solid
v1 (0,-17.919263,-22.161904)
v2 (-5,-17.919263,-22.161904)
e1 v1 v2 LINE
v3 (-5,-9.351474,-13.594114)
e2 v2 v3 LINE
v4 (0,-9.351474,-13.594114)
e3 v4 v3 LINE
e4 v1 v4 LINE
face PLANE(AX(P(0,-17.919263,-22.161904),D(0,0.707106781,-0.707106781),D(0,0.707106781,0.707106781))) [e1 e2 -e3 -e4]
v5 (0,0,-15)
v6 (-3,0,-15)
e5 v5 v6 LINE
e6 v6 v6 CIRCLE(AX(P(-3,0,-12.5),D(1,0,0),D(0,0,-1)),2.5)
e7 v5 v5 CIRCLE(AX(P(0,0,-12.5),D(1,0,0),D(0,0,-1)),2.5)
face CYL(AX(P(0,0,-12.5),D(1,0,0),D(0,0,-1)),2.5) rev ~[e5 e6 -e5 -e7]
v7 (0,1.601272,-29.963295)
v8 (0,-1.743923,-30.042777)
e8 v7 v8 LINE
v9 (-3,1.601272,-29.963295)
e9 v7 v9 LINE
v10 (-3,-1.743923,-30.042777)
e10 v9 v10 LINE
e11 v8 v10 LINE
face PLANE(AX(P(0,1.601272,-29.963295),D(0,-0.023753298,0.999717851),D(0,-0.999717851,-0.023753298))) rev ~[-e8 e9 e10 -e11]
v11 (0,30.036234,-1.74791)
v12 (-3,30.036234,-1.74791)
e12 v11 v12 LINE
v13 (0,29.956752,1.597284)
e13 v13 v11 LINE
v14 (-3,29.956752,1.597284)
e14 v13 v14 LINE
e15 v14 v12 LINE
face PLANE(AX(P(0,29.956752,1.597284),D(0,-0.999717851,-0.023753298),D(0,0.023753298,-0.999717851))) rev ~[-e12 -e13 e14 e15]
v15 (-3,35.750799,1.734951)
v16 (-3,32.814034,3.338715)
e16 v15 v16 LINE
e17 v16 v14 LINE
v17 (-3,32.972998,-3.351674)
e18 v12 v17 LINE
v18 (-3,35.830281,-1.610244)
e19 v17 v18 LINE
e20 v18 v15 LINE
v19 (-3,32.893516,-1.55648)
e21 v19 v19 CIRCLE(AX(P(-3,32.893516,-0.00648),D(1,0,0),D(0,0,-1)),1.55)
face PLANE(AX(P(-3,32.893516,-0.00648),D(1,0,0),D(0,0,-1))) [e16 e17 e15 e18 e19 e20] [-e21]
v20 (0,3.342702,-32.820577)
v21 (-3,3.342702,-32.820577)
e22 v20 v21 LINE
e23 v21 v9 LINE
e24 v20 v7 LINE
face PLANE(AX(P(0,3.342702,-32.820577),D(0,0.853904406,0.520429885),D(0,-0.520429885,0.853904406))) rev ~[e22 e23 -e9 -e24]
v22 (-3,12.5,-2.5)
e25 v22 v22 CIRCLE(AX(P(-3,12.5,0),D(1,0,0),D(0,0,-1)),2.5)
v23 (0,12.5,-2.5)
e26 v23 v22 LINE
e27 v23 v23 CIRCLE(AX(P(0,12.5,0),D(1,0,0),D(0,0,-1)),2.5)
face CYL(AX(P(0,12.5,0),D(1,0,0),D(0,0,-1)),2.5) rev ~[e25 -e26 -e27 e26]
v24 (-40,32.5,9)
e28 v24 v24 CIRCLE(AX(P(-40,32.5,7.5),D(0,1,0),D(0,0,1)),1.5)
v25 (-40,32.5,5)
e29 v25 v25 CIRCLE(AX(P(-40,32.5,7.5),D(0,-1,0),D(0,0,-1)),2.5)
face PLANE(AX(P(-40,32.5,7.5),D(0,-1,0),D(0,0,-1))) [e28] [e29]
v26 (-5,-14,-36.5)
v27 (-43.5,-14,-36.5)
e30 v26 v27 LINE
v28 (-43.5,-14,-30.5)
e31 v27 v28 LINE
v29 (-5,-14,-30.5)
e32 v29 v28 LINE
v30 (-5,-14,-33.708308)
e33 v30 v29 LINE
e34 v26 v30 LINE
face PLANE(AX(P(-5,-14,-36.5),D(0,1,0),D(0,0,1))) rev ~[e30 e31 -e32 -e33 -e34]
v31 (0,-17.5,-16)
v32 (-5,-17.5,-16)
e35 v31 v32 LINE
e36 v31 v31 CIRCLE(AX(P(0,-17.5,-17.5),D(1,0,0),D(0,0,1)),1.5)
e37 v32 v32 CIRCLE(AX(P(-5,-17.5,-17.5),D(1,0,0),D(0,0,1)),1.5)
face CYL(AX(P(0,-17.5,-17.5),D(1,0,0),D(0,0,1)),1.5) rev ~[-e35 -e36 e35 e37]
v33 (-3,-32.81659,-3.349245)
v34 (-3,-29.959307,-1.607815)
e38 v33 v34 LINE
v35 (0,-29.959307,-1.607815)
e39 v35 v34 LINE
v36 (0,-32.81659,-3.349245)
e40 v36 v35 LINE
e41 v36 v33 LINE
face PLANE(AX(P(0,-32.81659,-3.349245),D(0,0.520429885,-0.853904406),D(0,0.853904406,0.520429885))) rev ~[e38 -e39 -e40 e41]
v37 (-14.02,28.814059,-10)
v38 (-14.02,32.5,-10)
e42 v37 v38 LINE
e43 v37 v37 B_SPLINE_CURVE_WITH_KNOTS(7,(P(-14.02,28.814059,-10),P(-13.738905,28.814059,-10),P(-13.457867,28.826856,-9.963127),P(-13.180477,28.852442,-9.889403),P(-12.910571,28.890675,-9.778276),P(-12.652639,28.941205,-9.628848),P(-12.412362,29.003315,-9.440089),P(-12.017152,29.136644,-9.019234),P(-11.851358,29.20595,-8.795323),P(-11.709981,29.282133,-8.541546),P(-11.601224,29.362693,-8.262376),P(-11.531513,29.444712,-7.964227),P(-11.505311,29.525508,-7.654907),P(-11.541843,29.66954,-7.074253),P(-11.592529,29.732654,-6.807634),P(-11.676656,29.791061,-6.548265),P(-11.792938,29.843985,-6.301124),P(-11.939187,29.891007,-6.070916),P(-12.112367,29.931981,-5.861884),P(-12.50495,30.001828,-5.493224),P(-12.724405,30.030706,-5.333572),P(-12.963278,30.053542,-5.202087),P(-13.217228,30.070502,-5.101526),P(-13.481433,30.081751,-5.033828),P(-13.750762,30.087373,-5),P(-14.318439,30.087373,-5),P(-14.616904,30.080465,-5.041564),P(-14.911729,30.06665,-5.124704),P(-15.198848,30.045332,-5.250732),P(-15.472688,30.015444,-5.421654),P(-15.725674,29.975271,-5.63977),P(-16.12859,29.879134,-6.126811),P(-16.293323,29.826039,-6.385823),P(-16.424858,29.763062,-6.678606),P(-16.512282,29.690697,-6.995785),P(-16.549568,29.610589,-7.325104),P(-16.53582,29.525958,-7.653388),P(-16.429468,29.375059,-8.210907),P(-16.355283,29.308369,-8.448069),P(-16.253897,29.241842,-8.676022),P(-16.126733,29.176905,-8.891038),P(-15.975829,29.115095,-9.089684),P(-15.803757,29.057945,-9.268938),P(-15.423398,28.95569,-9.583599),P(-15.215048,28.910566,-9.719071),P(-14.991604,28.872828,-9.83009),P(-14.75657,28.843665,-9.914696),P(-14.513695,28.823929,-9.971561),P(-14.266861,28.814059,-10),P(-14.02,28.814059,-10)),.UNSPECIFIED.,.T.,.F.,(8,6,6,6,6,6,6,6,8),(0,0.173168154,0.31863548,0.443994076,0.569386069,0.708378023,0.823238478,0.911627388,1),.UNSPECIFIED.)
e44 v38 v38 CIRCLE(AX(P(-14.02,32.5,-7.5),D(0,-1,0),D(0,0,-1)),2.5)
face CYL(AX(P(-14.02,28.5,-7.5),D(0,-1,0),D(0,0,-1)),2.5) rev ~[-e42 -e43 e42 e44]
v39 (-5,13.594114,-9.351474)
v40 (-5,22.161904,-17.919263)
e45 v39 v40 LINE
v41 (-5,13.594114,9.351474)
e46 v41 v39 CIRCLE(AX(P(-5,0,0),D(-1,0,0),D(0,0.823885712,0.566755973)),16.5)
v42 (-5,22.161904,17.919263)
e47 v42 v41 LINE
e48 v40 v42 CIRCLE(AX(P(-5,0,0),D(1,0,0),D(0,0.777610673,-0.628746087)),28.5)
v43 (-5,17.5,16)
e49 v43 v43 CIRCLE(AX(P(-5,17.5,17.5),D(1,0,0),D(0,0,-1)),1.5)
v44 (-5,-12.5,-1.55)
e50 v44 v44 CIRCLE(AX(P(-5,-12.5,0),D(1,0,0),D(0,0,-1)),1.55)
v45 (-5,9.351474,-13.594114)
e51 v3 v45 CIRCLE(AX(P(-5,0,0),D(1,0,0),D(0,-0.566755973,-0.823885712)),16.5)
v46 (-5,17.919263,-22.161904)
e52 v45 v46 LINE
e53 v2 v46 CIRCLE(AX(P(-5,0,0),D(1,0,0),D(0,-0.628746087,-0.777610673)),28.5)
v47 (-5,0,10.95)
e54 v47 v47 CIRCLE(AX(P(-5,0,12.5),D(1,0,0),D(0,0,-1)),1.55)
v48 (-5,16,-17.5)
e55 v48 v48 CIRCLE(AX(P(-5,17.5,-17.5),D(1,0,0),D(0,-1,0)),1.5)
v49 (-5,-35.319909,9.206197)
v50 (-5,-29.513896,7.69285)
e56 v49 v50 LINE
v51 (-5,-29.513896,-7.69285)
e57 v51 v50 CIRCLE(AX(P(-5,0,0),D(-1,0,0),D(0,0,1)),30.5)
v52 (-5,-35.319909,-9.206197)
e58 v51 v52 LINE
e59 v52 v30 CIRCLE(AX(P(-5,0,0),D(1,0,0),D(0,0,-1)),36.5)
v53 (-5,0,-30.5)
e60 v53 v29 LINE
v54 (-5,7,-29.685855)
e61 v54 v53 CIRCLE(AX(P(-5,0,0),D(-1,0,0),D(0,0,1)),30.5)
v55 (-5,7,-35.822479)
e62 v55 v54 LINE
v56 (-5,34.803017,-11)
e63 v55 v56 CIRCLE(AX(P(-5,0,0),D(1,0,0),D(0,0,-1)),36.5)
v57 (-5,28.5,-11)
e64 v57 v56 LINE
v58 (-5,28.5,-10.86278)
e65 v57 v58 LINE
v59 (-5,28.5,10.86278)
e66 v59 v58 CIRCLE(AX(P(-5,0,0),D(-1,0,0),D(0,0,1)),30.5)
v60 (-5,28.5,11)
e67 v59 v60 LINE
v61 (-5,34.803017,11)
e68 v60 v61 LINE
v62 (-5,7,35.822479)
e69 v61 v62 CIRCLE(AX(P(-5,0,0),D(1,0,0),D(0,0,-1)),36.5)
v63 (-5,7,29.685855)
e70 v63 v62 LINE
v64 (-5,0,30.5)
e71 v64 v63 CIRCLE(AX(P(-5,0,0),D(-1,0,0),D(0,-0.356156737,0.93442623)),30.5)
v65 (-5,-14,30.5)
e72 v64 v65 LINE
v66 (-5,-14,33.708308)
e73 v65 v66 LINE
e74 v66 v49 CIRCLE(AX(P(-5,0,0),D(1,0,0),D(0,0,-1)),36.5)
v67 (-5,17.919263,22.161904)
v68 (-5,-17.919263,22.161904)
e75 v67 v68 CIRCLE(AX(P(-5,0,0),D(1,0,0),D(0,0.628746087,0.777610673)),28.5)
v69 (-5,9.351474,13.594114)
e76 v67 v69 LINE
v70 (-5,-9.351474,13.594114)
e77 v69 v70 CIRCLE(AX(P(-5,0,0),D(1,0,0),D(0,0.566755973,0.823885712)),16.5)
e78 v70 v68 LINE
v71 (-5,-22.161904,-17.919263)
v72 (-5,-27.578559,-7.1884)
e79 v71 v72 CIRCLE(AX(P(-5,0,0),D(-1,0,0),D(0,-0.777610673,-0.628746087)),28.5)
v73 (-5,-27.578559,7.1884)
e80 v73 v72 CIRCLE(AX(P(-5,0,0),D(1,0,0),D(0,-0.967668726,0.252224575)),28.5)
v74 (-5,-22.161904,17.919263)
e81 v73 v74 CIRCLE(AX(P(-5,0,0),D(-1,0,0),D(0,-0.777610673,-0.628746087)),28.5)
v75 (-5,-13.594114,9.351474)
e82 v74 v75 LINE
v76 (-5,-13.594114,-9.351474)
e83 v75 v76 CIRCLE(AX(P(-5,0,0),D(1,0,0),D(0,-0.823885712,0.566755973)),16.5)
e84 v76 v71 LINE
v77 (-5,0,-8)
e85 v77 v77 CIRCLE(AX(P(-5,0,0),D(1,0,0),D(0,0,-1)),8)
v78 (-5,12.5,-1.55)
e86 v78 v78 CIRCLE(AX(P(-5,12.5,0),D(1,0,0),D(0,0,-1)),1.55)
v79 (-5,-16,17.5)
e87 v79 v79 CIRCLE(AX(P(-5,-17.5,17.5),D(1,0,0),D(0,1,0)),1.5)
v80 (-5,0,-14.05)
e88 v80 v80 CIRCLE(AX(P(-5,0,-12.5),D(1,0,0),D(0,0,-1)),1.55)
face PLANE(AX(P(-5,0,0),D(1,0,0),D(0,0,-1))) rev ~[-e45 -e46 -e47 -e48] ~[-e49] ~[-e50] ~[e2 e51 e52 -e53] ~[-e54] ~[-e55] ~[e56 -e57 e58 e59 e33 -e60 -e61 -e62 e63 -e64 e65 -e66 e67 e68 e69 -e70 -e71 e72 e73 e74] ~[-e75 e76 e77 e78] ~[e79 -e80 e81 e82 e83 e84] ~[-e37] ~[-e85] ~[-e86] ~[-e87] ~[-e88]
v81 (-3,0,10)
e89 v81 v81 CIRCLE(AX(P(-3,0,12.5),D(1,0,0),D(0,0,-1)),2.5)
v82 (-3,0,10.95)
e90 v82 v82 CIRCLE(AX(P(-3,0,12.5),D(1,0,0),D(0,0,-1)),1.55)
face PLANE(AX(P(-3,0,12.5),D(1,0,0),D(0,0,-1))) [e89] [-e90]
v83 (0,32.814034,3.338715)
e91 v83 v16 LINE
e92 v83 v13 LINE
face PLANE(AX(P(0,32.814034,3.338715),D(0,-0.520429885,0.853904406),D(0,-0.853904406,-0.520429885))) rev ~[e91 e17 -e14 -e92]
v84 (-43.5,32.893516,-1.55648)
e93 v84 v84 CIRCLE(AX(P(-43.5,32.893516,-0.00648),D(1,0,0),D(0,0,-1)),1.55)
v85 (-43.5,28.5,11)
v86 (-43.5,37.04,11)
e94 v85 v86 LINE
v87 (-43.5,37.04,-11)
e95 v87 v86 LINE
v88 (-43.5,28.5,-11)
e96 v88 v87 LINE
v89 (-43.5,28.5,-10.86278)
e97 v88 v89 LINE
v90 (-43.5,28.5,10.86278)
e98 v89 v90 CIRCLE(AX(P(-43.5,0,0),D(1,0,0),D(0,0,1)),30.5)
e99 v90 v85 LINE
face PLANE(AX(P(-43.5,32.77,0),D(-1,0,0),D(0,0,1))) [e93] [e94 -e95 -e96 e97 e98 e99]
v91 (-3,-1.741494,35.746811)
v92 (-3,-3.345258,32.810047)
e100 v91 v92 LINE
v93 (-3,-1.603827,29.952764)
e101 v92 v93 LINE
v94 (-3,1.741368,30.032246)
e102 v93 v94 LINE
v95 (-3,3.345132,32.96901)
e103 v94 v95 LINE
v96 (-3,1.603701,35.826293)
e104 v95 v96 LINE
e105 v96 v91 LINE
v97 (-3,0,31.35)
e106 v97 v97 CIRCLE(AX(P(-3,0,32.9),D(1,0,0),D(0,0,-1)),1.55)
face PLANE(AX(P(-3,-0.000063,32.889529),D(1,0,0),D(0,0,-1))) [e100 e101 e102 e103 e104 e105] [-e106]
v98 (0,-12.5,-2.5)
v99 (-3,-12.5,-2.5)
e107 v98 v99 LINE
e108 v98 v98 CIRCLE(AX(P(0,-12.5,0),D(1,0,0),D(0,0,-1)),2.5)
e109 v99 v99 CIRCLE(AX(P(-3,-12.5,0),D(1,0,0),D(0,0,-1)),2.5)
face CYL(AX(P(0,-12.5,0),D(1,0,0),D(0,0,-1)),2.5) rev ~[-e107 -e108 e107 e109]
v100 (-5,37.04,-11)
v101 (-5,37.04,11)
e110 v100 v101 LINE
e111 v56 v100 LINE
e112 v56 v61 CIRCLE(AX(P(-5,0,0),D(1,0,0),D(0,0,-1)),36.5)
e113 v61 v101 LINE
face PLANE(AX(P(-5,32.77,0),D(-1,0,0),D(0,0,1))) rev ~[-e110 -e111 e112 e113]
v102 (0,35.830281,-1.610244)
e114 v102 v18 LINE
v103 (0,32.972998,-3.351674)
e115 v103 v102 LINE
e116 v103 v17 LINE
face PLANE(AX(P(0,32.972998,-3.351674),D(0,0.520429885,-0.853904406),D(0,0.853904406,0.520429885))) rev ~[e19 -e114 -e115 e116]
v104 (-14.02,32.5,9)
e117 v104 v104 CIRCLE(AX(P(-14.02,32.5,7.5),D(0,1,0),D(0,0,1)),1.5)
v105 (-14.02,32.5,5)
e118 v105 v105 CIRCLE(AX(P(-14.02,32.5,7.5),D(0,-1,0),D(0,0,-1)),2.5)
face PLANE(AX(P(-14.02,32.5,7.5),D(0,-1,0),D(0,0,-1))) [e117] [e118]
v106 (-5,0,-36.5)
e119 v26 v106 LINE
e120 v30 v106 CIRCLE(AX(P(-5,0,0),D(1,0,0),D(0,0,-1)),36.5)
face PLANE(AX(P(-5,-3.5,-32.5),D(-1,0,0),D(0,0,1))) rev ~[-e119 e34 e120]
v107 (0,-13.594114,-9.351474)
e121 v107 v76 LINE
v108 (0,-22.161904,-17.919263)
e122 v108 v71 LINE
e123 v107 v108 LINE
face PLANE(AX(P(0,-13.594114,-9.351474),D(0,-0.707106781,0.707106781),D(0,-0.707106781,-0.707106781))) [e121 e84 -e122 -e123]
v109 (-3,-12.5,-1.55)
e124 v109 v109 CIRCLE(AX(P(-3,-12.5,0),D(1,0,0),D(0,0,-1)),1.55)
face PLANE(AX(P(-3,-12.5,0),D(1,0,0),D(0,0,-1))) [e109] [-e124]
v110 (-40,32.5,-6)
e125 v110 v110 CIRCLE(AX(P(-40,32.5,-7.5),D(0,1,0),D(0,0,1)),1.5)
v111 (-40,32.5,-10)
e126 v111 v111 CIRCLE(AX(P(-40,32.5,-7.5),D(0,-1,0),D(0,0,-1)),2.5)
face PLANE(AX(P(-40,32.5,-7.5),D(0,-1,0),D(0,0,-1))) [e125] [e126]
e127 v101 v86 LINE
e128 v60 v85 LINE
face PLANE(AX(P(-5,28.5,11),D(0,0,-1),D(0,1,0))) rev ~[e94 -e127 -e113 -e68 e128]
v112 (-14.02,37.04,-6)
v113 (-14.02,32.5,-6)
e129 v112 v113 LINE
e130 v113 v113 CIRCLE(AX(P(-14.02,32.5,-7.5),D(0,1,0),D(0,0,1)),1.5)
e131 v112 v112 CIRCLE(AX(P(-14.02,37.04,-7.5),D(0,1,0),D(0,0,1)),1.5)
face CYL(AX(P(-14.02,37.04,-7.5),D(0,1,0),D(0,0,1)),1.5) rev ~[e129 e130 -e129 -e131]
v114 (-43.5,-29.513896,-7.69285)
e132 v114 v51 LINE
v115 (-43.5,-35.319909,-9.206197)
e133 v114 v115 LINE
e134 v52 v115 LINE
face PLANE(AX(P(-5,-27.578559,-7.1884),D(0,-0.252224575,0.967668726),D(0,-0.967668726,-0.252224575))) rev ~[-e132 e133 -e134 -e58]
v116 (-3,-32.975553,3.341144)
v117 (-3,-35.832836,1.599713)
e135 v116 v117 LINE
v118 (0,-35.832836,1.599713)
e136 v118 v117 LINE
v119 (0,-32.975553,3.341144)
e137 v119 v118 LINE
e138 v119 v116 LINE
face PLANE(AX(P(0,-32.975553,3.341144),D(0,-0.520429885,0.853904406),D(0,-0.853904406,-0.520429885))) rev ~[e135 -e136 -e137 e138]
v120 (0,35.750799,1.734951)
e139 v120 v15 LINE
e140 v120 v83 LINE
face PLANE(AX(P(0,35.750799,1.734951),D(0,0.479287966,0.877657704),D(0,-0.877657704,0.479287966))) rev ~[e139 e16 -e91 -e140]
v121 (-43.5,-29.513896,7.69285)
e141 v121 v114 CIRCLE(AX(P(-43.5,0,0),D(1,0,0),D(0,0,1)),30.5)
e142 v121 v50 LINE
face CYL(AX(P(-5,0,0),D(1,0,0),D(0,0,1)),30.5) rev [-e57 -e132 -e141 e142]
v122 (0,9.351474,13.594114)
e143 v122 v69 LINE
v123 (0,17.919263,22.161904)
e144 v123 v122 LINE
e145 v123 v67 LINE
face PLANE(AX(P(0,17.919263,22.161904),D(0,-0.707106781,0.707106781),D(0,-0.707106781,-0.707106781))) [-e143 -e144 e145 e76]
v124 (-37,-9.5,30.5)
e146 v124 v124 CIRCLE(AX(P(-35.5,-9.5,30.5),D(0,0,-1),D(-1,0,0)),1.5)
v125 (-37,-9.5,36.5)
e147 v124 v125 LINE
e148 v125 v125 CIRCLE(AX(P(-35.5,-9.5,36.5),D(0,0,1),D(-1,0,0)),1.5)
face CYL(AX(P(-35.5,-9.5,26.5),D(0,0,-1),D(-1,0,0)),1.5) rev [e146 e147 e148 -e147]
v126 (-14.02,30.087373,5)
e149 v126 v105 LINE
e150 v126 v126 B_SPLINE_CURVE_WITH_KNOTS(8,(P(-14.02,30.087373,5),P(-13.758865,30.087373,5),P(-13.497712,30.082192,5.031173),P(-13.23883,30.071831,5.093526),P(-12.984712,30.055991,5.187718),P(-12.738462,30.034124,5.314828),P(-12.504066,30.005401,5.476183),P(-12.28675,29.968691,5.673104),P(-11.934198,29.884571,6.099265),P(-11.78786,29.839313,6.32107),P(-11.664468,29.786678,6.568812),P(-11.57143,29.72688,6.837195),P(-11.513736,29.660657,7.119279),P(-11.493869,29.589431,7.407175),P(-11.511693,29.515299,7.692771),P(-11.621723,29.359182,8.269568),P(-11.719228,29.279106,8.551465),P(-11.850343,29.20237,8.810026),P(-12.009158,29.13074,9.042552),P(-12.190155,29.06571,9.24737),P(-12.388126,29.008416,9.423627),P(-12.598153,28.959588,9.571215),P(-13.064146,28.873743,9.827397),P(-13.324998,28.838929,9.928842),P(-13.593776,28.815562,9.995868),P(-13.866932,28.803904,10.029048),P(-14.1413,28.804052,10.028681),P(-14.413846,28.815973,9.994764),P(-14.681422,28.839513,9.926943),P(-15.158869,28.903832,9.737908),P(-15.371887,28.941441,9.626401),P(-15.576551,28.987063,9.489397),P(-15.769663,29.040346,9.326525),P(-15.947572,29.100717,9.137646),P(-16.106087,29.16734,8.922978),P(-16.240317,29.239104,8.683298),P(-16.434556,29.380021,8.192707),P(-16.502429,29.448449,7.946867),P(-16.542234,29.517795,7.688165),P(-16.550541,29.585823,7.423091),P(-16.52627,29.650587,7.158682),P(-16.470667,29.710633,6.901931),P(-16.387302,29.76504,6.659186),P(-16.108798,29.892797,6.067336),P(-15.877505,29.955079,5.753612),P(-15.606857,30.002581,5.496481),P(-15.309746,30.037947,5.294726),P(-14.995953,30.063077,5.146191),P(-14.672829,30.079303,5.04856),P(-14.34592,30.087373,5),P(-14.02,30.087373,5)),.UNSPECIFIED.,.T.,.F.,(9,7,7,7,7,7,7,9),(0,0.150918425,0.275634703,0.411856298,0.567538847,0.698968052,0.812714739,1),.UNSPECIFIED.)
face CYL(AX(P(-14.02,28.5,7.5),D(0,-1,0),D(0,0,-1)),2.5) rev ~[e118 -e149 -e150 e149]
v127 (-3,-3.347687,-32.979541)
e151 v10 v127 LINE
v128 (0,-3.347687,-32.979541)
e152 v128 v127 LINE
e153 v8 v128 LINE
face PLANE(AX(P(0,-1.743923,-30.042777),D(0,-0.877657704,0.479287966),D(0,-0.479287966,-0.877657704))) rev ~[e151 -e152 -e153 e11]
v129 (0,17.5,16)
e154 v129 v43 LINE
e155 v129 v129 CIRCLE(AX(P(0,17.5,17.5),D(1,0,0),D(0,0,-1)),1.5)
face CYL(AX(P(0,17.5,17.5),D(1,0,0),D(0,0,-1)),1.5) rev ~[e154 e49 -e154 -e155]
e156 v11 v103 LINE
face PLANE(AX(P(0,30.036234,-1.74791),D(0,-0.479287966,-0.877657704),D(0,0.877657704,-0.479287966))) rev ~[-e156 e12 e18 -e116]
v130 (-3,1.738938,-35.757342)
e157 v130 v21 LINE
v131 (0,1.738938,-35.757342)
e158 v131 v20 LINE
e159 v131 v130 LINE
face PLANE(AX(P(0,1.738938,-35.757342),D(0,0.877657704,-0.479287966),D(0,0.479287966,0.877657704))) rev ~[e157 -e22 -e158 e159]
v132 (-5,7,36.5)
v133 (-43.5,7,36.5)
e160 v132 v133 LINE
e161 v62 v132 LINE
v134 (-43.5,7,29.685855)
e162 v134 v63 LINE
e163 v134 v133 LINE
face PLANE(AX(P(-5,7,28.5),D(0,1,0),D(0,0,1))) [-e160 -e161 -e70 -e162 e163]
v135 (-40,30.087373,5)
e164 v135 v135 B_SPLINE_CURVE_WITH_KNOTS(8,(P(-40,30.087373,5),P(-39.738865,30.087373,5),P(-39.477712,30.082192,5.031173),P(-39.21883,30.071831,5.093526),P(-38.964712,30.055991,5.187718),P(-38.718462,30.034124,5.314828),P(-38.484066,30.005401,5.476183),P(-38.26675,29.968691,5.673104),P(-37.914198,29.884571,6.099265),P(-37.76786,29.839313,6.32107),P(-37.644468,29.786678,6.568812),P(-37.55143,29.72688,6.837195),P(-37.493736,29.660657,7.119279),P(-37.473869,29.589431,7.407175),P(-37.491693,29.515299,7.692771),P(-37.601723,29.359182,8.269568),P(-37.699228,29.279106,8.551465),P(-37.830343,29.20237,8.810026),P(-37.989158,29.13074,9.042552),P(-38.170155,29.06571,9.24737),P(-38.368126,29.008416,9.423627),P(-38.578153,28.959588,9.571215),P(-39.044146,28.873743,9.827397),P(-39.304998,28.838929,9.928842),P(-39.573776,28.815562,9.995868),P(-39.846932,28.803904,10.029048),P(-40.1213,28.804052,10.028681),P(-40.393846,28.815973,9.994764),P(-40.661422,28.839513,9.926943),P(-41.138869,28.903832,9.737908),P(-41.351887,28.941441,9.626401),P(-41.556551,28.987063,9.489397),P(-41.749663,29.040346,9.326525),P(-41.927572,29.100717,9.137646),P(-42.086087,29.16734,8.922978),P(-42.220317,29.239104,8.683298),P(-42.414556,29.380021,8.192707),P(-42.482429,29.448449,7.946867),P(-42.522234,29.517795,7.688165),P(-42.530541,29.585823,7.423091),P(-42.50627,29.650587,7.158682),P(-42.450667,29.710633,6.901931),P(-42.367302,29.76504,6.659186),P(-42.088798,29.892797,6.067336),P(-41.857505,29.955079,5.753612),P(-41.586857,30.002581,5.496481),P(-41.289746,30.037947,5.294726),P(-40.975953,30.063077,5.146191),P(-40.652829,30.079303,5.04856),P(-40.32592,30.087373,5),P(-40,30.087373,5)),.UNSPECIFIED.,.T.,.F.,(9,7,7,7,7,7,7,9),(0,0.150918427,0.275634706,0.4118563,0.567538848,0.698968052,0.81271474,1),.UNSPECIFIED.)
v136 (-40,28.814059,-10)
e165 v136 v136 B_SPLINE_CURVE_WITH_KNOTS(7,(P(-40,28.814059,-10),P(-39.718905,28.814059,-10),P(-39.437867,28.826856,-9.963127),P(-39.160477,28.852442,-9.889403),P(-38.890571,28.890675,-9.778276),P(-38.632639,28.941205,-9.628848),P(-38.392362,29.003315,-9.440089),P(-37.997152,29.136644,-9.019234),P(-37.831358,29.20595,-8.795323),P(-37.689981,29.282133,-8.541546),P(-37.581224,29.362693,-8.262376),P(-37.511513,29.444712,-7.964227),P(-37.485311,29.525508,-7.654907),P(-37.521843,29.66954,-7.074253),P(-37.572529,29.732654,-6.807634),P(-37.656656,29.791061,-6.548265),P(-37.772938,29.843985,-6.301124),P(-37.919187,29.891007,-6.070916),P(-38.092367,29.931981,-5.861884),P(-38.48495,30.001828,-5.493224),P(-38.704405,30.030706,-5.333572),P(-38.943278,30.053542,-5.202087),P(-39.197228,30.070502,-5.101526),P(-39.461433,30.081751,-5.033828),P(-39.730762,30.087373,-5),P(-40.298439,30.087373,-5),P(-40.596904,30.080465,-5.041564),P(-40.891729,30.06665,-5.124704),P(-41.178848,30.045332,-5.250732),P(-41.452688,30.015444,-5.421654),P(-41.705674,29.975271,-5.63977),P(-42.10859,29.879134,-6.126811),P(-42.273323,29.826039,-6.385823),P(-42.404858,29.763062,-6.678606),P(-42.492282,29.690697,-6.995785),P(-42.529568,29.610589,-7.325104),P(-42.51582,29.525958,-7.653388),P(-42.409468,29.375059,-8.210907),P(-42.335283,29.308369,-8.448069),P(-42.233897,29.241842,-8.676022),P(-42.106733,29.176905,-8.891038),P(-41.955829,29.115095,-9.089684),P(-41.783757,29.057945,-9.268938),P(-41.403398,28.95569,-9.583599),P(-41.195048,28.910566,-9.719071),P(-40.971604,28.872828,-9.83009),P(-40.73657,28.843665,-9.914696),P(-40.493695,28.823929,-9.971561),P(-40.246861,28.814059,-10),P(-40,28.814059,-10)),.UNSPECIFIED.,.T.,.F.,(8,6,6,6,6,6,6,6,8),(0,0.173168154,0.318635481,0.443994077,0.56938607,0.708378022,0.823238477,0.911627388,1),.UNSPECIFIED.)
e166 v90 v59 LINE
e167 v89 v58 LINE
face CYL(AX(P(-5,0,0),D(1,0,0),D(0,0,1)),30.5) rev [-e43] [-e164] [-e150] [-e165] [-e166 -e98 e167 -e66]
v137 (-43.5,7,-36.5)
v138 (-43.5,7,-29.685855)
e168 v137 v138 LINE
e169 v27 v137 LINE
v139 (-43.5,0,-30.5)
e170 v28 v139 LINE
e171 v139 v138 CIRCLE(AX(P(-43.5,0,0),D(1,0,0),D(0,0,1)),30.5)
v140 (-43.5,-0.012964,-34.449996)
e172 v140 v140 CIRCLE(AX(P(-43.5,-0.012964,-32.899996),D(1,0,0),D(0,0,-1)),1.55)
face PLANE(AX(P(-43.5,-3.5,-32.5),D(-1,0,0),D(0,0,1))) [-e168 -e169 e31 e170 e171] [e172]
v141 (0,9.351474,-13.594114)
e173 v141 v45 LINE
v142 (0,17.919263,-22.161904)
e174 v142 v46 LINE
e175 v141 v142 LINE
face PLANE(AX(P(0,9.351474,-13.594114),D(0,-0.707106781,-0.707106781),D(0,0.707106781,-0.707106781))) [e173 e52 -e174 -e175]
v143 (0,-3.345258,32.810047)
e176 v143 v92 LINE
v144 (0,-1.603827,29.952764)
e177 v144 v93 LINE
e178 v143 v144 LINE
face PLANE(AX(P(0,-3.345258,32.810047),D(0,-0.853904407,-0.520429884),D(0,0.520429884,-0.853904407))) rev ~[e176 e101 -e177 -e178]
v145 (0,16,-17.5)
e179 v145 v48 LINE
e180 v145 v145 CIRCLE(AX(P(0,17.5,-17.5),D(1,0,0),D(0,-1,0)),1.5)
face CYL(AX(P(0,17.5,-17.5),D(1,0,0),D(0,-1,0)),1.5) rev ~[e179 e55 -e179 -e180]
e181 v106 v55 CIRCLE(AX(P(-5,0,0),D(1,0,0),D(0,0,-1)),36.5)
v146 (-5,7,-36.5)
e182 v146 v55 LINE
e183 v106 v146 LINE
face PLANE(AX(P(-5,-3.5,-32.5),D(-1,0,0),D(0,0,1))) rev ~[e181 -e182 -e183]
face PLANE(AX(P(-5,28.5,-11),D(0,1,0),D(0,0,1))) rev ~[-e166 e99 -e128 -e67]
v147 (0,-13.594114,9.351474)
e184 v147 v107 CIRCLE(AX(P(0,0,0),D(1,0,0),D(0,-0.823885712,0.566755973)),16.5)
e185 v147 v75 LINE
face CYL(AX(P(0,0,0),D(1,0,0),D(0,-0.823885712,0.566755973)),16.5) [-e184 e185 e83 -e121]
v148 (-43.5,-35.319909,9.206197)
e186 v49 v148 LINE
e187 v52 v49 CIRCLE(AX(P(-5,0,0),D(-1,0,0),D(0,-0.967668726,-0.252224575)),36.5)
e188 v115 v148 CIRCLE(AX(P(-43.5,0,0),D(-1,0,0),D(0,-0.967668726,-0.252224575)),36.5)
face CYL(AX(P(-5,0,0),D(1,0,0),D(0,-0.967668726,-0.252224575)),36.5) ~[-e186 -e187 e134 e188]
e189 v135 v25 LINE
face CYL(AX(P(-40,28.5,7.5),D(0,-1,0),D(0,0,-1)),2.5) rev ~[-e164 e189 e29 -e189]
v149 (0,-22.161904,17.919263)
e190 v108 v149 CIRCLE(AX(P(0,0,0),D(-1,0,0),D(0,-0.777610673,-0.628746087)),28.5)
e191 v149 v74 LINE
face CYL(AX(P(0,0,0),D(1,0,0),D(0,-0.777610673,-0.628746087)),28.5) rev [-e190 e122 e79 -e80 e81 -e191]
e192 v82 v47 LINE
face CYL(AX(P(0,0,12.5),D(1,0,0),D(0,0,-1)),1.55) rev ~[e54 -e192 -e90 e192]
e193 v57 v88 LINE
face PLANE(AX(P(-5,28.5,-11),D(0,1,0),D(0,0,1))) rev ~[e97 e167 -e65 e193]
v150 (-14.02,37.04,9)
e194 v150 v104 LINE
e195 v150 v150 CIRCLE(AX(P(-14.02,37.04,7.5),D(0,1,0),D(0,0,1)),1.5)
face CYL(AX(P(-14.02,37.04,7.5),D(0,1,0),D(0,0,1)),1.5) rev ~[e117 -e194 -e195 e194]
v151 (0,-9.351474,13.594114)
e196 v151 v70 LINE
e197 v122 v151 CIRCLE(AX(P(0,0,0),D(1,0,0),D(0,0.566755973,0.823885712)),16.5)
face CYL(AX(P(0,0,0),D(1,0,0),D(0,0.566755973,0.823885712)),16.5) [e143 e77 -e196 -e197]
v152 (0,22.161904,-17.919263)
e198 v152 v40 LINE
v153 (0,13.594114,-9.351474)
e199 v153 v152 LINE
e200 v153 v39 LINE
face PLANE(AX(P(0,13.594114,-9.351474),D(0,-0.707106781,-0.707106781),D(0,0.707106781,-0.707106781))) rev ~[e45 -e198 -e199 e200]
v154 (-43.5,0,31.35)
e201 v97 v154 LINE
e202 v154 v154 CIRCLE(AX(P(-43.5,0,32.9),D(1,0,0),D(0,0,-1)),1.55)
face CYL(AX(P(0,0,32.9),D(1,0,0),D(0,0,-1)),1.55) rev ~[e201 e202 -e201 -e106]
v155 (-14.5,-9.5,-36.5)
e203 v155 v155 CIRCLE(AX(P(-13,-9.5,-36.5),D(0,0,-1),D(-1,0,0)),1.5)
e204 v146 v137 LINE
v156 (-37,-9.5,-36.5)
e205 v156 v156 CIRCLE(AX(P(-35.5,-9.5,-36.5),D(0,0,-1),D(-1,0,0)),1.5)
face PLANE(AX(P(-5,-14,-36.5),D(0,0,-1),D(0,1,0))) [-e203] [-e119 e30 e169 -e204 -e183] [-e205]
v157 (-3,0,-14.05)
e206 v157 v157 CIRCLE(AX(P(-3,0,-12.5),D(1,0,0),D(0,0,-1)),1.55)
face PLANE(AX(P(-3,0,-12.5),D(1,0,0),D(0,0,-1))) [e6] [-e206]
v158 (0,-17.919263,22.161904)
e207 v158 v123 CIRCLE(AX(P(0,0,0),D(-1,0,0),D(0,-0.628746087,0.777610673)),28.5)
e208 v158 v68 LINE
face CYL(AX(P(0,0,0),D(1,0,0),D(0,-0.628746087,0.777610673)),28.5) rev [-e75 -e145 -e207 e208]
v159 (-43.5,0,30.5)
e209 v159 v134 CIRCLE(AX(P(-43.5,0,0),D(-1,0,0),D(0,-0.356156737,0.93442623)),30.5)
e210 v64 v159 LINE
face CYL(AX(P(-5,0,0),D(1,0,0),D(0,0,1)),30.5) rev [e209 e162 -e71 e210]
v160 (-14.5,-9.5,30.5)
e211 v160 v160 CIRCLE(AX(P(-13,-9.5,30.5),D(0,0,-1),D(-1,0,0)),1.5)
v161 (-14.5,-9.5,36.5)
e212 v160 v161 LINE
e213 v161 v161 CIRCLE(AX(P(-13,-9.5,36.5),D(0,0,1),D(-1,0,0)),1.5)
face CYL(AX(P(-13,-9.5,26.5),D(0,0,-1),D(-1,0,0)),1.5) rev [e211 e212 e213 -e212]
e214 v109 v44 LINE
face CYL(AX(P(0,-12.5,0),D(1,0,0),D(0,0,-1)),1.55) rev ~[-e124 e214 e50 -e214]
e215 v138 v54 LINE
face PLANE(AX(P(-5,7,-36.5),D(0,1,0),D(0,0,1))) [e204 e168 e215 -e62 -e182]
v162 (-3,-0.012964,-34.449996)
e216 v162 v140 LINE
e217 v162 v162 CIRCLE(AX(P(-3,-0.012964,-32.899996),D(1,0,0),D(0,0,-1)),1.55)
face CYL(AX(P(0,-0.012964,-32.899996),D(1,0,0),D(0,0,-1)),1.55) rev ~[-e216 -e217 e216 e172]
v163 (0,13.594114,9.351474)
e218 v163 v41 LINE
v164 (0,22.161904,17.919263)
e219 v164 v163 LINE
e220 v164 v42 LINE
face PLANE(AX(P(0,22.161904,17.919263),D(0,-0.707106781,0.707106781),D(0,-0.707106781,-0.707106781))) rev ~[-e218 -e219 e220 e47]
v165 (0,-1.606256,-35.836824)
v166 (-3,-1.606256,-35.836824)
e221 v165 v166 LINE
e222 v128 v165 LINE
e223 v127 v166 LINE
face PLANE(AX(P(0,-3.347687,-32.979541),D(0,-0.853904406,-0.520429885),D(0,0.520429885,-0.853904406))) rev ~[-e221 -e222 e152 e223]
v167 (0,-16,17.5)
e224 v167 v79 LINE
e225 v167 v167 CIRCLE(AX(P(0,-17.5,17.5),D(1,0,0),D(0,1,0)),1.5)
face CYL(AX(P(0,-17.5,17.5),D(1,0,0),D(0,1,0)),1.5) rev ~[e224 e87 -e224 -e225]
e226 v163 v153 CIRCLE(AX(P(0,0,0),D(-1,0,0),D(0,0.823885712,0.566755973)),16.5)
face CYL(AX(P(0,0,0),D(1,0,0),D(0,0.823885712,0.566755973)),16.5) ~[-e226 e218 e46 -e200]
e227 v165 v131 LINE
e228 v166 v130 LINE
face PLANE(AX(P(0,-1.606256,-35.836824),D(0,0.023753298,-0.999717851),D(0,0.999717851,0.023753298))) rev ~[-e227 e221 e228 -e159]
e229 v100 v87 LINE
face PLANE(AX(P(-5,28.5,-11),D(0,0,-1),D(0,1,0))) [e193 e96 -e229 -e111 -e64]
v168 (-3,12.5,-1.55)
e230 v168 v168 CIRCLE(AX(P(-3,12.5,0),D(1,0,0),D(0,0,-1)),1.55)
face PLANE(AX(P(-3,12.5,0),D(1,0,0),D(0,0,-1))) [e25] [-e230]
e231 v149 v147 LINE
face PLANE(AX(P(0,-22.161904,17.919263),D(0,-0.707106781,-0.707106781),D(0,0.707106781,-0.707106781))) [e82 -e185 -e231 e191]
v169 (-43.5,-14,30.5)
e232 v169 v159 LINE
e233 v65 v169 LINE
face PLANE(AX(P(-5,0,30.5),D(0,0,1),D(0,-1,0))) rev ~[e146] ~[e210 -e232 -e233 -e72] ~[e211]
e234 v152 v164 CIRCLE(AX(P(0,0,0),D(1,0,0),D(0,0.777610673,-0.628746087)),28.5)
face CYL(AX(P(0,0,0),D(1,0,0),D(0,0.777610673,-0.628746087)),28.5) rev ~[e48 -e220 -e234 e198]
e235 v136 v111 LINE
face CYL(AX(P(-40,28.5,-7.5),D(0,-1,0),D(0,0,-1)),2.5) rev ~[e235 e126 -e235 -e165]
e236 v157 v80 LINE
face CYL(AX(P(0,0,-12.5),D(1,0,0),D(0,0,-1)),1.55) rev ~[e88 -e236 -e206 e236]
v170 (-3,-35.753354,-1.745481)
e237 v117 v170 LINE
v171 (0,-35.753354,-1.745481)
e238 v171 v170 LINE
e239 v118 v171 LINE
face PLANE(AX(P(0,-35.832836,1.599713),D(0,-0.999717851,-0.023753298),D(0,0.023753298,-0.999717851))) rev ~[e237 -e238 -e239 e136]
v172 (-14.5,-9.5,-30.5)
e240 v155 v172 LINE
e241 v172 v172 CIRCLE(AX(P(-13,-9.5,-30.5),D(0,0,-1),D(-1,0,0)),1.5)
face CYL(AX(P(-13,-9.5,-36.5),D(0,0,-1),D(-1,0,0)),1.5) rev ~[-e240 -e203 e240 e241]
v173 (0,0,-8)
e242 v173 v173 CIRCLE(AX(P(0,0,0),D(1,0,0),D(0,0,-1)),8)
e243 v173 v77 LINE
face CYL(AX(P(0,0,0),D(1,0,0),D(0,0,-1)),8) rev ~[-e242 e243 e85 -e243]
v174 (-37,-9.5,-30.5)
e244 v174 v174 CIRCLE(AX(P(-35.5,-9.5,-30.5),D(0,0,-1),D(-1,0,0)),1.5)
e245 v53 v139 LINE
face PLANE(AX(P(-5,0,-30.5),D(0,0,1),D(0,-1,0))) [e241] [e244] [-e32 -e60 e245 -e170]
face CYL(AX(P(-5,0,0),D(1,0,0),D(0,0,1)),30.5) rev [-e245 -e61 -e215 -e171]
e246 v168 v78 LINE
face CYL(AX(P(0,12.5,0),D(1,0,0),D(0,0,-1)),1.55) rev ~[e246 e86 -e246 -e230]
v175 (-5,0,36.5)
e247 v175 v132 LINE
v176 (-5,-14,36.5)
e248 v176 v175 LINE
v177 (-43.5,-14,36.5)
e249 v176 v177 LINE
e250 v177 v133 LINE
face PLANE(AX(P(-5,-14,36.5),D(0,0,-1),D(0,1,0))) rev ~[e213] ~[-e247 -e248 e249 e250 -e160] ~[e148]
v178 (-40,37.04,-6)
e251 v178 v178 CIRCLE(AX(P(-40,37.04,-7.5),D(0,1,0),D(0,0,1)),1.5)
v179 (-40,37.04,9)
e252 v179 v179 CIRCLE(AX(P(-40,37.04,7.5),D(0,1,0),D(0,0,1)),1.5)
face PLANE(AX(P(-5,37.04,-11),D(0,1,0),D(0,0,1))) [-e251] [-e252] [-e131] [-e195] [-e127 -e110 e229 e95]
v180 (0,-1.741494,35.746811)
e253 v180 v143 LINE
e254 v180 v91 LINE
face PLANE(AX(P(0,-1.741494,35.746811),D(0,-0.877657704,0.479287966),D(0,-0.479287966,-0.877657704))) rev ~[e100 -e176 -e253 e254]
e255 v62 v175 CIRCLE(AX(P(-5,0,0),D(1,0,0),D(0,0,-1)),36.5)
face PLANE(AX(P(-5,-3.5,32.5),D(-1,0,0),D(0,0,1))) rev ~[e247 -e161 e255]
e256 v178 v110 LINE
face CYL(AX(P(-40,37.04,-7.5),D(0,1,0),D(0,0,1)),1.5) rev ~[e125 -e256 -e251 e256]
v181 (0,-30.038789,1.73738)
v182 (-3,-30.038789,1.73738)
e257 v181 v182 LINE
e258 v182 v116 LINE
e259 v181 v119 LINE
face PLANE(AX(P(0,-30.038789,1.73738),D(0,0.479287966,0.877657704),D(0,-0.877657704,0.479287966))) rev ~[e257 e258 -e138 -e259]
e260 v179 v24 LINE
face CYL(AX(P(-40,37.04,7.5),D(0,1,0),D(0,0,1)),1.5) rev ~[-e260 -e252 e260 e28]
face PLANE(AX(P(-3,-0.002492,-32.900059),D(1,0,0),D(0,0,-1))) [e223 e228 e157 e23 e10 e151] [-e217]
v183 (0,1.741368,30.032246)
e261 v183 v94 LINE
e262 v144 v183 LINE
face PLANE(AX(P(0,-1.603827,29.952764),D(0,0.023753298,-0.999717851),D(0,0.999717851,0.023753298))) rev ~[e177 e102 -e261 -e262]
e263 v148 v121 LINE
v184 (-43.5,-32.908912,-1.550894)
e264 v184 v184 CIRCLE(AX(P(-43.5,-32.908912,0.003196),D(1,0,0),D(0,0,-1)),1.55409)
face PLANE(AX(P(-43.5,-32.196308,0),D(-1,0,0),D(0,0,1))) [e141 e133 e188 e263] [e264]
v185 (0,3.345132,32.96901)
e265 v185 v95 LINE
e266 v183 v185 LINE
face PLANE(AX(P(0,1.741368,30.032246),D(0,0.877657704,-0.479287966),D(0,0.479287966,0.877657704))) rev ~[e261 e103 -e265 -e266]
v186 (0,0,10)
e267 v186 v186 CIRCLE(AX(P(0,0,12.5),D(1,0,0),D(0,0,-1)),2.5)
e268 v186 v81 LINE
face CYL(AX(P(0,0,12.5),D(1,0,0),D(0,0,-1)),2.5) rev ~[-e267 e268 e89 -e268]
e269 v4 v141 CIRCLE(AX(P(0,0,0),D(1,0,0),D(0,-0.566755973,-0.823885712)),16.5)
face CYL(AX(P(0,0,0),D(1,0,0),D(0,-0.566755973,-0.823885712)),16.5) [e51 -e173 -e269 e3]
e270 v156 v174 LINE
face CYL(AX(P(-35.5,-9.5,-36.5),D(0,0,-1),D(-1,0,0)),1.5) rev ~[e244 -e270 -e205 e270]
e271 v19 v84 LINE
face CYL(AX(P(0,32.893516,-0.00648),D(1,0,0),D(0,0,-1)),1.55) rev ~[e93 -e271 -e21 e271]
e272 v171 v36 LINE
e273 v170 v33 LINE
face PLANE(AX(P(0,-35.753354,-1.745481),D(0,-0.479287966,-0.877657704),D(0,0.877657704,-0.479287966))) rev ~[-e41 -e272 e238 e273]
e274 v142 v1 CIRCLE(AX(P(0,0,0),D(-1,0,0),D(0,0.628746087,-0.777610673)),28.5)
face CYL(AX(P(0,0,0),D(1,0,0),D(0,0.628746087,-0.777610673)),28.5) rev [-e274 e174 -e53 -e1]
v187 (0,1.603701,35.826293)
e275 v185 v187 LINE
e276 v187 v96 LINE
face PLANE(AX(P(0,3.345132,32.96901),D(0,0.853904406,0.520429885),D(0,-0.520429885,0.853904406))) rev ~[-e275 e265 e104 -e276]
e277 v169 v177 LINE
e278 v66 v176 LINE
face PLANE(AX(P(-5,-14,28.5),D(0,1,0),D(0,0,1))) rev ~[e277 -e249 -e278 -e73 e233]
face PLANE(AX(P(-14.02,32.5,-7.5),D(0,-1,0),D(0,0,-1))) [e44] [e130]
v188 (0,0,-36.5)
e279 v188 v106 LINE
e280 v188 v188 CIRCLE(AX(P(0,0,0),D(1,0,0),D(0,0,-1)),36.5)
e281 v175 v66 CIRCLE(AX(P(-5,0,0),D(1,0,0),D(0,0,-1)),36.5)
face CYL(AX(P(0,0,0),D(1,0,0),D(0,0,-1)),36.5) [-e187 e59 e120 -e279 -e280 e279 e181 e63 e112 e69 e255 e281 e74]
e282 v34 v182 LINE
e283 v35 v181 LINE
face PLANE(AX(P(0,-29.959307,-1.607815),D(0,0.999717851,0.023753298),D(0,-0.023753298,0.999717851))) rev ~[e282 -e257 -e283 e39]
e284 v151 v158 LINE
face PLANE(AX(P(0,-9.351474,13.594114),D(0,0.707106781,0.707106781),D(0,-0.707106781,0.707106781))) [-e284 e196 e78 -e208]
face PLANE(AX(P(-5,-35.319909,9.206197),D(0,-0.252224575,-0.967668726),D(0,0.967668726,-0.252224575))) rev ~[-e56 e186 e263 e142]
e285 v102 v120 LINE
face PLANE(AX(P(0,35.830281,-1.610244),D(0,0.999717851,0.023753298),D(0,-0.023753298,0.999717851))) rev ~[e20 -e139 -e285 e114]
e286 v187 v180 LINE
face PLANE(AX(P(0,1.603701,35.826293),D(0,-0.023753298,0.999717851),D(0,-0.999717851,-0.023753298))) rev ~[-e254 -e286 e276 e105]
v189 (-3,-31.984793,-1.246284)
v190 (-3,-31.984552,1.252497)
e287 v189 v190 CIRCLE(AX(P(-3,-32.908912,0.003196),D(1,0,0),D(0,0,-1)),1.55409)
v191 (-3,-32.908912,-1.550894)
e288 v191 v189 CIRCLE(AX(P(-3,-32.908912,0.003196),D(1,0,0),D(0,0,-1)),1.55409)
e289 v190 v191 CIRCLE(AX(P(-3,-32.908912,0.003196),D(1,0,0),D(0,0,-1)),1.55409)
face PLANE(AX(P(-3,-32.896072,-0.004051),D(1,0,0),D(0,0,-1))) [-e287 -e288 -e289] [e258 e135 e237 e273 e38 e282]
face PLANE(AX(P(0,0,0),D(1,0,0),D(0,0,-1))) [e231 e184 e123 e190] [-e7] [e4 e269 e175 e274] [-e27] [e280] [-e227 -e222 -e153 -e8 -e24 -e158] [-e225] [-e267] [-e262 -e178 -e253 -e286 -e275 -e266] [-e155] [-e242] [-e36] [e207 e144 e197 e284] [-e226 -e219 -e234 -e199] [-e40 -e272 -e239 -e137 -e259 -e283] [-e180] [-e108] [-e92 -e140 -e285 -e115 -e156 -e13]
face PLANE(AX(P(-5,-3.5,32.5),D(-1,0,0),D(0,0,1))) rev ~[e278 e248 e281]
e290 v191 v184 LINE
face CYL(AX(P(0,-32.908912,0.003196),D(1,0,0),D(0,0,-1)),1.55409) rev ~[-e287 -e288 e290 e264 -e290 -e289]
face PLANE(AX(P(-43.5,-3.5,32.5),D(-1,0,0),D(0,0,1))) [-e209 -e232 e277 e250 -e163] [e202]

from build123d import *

# Parameters (mm, degrees)
SKETCH_1_R               = 36.5
SKETCH_1_R_2             = 1.55
SKETCH_1_R_3             = 8
EXTRUDE_1_DEPTH          = 5
CUT_EXTRUDE_2_REACH      = 53.86
SKETCH_5_R               = 1.55
CUT_EXTRUDE_3_REACH      = 53.86
SKETCH_7_R               = 1.55
CUT_EXTRUDE_4_DEPTH      = 3
SKETCH_10_R              = 1.5
CUT_EXTRUDE_5_DEPTH      = 5
PATTERN_CIRCULAR_1_COUNT = 4
SKETCH_11_W              = 22
SKETCH_11_H              = 8.54
EXTRUDE_4_DEPTH          = 38.5
SKETCH_12_W              = 8
SKETCH_12_H              = 21
EXTRUDE_5_DEPTH          = 38.5
EXTRUDE_6_DEPTH          = 38.5
SKETCH_15_R              = 1.55
CUT_EXTRUDE_6_DEPTH      = 45
SKETCH_16_R              = 1.554089707
SKETCH_16_R_2            = 1.55
CUT_EXTRUDE_7_DEPTH      = 45
SKETCH_17_R              = 1.5
CUT_EXTRUDE_8_DEPTH      = 10
SKETCH_18_R              = 1.5
CUT_EXTRUDE_9_DEPTH      = 10
CUT_EXTRUDE_START        = -10
SKETCH_19_R              = 1.5
CUT_EXTRUDE_10_DEPTH     = 10
SKETCH_20_R              = 2.5
CUT_EXTRUDE_11_DEPTH     = 4
SKETCH_21_R              = 2.5
CUT_EXTRUDE_12_DEPTH     = 3
SKETCH_23_R              = 30.5
CUT_EXTRUDE_13_DEPTH     = 41
CUT_EXTRUDE_15_DEPTH     = 65.702871768


with BuildPart() as part:
    # 草图1 → 凸台-拉伸1 (new body)
    with BuildSketch(Plane(origin=(0, 0, 0), x_dir=(0, 0, -1), z_dir=(1, 0, 0))):
        Circle(SKETCH_1_R)
        with Locations((0, 12.5)):
            Circle(SKETCH_1_R_2, mode=Mode.SUBTRACT)
        with Locations((12.5, 0)):
            Circle(SKETCH_1_R_2, mode=Mode.SUBTRACT)
        with Locations((0, -12.5)):
            Circle(SKETCH_1_R_2, mode=Mode.SUBTRACT)
        with Locations((-12.5, 0)):
            Circle(SKETCH_1_R_2, mode=Mode.SUBTRACT)
        Circle(SKETCH_1_R_3, mode=Mode.SUBTRACT)
        with BuildLine():
            Line((13.594114249, 9.351473562), (22.161904167, 17.91926348))
            ThreePointArc((22.161904167, 17.91926348), (28.5, 0), (22.161904167, -17.91926348))
            Line((22.161904167, -17.91926348), (13.594114249, -9.351473562))
            ThreePointArc((13.594114249, -9.351473562), (16.5, 0), (13.594114249, 9.351473562))
        make_face(mode=Mode.SUBTRACT)
        with BuildLine():
            Line((9.351473562, 13.594114249), (17.91926348, 22.161904167))
            ThreePointArc((17.91926348, 22.161904167), (0, 28.5), (-17.91926348, 22.161904167))
            Line((-17.91926348, 22.161904167), (-9.351473562, 13.594114249))
            ThreePointArc((-9.351473562, 13.594114249), (0, 16.5), (9.351473562, 13.594114249))
        make_face(mode=Mode.SUBTRACT)
        with BuildLine():
            Line((9.351473562, -13.594114249), (17.91926348, -22.161904167))
            ThreePointArc((17.91926348, -22.161904167), (0, -28.5), (-17.91926348, -22.161904167))
            Line((-17.91926348, -22.161904167), (-9.351473562, -13.594114249))
            ThreePointArc((-9.351473562, -13.594114249), (0, -16.5), (9.351473562, -13.594114249))
        make_face(mode=Mode.SUBTRACT)
        with BuildLine():
            Line((-13.594114249, -9.351473562), (-22.161904167, -17.91926348))
            ThreePointArc((-22.161904167, -17.91926348), (-28.5, 0), (-22.161904167, 17.91926348))
            Line((-22.161904167, 17.91926348), (-13.594114249, 9.351473562))
            ThreePointArc((-13.594114249, 9.351473562), (-16.5, 0), (-13.594114249, -9.351473562))
        make_face(mode=Mode.SUBTRACT)
    extrude(amount=-EXTRUDE_1_DEPTH)

    # 草图5 → 切除-拉伸2 (cut, up to next)
    with BuildSketch(Plane(origin=(0, 0, 0), x_dir=(0, 0, -1), z_dir=(1, 0, 0)), mode=Mode.PRIVATE) as cut_extrude_2_sk1:
        with Locations((-0.006483679, -32.906479867)):
            Circle(SKETCH_5_R)
    cut_extrude_2_tool1 = extrude(cut_extrude_2_sk1.sketch, amount=-CUT_EXTRUDE_2_REACH, mode=Mode.PRIVATE) & part.part
    # 草图5 → 切除-拉伸2 (cut, up to next)
    with BuildSketch(Plane(origin=(0, 0, 0), x_dir=(0, 0, -1), z_dir=(1, 0, 0)), mode=Mode.PRIVATE) as cut_extrude_2_sk2:
        with Locations((-32.9, 0)):
            Circle(SKETCH_5_R)
    cut_extrude_2_tool2 = extrude(cut_extrude_2_sk2.sketch, amount=-CUT_EXTRUDE_2_REACH, mode=Mode.PRIVATE) & part.part
    # 草图5 → 切除-拉伸2 (cut, up to next)
    with BuildSketch(Plane(origin=(0, 0, 0), x_dir=(0, 0, -1), z_dir=(1, 0, 0)), mode=Mode.PRIVATE) as cut_extrude_2_sk3:
        with Locations((0.006479867, 32.893516321)):
            Circle(SKETCH_5_R)
    cut_extrude_2_tool3 = extrude(cut_extrude_2_sk3.sketch, amount=-CUT_EXTRUDE_2_REACH, mode=Mode.PRIVATE) & part.part
    # 草图5 → 切除-拉伸2 (cut, up to next)
    with BuildSketch(Plane(origin=(0, 0, 0), x_dir=(0, 0, -1), z_dir=(1, 0, 0)), mode=Mode.PRIVATE) as cut_extrude_2_sk4:
        with Locations((32.899996188, -0.012963547)):
            Circle(SKETCH_5_R)
    cut_extrude_2_tool4 = extrude(cut_extrude_2_sk4.sketch, amount=-CUT_EXTRUDE_2_REACH, mode=Mode.PRIVATE) & part.part
    add(cut_extrude_2_tool1.solids().sort_by_distance((0, -32.90648, 0.006484))[0], mode=Mode.SUBTRACT)
    add(cut_extrude_2_tool2.solids().sort_by_distance((0, 0, 32.9))[0], mode=Mode.SUBTRACT)
    add(cut_extrude_2_tool3.solids().sort_by_distance((0, 32.893516, -0.00648))[0], mode=Mode.SUBTRACT)
    add(cut_extrude_2_tool4.solids().sort_by_distance((0, -0.012964, -32.899996))[0], mode=Mode.SUBTRACT)

    # 草图7 → 切除-拉伸3 (cut, up to next)
    with BuildSketch(Plane(origin=(0, 0, 0), x_dir=(0, 0, -1), z_dir=(1, 0, 0)), mode=Mode.PRIVATE) as cut_extrude_3_sk1:
        with Locations((9.1971e-05, -32.90647921)):
            Circle(SKETCH_7_R)
    cut_extrude_3_tool1 = extrude(cut_extrude_3_sk1.sketch, amount=-CUT_EXTRUDE_3_REACH, mode=Mode.PRIVATE) & part.part
    add(cut_extrude_3_tool1.solids().sort_by_distance((0, -32.906479, -9.2e-05))[0], mode=Mode.SUBTRACT)

    # 草图8 → 切除-拉伸4 (cut)
    with BuildSketch(Plane(origin=(0, 0, 0), x_dir=(0, 0, -1), z_dir=(1, 0, 0))):
        Polygon((35.836823617, -1.606256173), (35.757341789, 1.738938409), (32.820577385, 3.342702418), (29.963294811, 1.601271844), (30.042776639, -1.743922738), (32.979541042, -3.347686747), align=None)
        Polygon((3.35167445, 32.972998149), (1.610243876, 35.830280724), (-1.734950706, 35.750798895), (-3.338714715, 32.814034492), (-1.597284141, 29.956751917), (1.747910441, 30.036233746), align=None)
        Polygon((-1.59971328, -35.832835914), (1.745481303, -35.753354086), (3.349245312, -32.816589682), (1.607814738, -29.959307107), (-1.737379845, -30.038788936), (-3.341143854, -32.975553339), align=None)
        Polygon((-35.826293021, 1.603700983), (-35.746811192, -1.7414936), (-32.810046789, -3.345257608), (-29.952764214, -1.603827035), (-30.032246042, 1.741367548), (-32.969010446, 3.345131557), align=None)
    extrude(amount=-CUT_EXTRUDE_4_DEPTH, mode=Mode.SUBTRACT)

    # 草图10 → 切除-拉伸5 (cut)
    with BuildSketch(Plane(origin=(0, 0, 0), x_dir=(0, 0, -1), z_dir=(1, 0, 0))):
        with Locations((-17.5, 17.5)):
            Circle(SKETCH_10_R)
    cut_extrude_5 = extrude(amount=-CUT_EXTRUDE_5_DEPTH, mode=Mode.SUBTRACT)

    # 阵列(圆周)1: 切除-拉伸5 ×4 about axis
    pattern_circular_1_axis = Axis((0, 0, 0), (1, 0, 0))
    for i in range(1, PATTERN_CIRCULAR_1_COUNT):
        add(cut_extrude_5.rotate(pattern_circular_1_axis, i * 360 / PATTERN_CIRCULAR_1_COUNT), mode=Mode.SUBTRACT)

    # 草图11 → 凸台-拉伸4 (add)
    with BuildSketch(Plane.ZY.offset(5)):
        with Locations((0, 32.77)):
            Rectangle(SKETCH_11_W, SKETCH_11_H)
    extrude(amount=EXTRUDE_4_DEPTH)

    # 草图12 → 凸台-拉伸5 (add)
    with BuildSketch(Plane.ZY.offset(5)):
        with Locations((-32.5, -3.5)):
            Rectangle(SKETCH_12_W, SKETCH_12_H)
        with Locations((32.5, -3.5)):
            Rectangle(SKETCH_12_W, SKETCH_12_H)
    extrude(amount=EXTRUDE_5_DEPTH)

    # 草图13 → 凸台-拉伸6 (add)
    with BuildSketch(Plane.ZY.offset(5)):
        with BuildLine():
            Line((-7.188400395, -27.578558696), (-9.206196997, -35.319908506))
            ThreePointArc((-9.206196997, -35.319908506), (0, -36.5), (9.206196997, -35.319908506))
            Line((9.206196997, -35.319908506), (7.188400395, -27.578558696))
            ThreePointArc((7.188400395, -27.578558696), (0, -28.5), (-7.188400395, -27.578558696))
        make_face()
    extrude(amount=EXTRUDE_6_DEPTH)

    # 草图15 → 切除-拉伸6 (cut)
    with BuildSketch(Plane(origin=(0, 0, 0), x_dir=(0, 0, -1), z_dir=(1, 0, 0))):
        with Locations((-32.9, 0)):
            Circle(SKETCH_15_R)
    extrude(amount=-CUT_EXTRUDE_6_DEPTH, mode=Mode.SUBTRACT)

    # 草图16 → 切除-拉伸7 (cut)
    with BuildSketch(Plane(origin=(0, 0, 0), x_dir=(0, 0, -1), z_dir=(1, 0, 0))):
        with Locations((-0.003195611, -32.908911803)):
            Circle(SKETCH_16_R)
        with Locations((32.899996188, -0.012963547)):
            Circle(SKETCH_16_R_2)
        with Locations((0.006479867, 32.893516321)):
            Circle(SKETCH_16_R_2)
    extrude(amount=-CUT_EXTRUDE_7_DEPTH, mode=Mode.SUBTRACT)

    # 草图17 → 切除-拉伸8 (cut)
    with BuildSketch(Plane(origin=(0, 37.04, 0), x_dir=(1, 0, 0), z_dir=(0, 1, 0))):
        with Locations(Location((-40, 7.5, 0), (0, 0, 270))):
            Circle(SKETCH_17_R)
        with Locations(Location((-14.02, 7.5, 0), (0, 0, 270))):
            Circle(SKETCH_17_R)
        with Locations(Location((-40, -7.5, 0), (0, 0, 270))):
            Circle(SKETCH_17_R)
        with Locations(Location((-14.02, -7.5, 0), (0, 0, 270))):
            Circle(SKETCH_17_R)
    extrude(amount=-CUT_EXTRUDE_8_DEPTH, mode=Mode.SUBTRACT)

    # 草图18 → 切除-拉伸9 (cut)
    with BuildSketch(Plane(origin=(0, 0, -36.5), x_dir=(-1, 0, 0), z_dir=(0, 0, -1))):
        with Locations((13, -9.5)):
            Circle(SKETCH_18_R)
        with Locations((35.5, -9.5)):
            Circle(SKETCH_18_R)
    extrude(amount=-CUT_EXTRUDE_9_DEPTH, mode=Mode.SUBTRACT)

    # 草图19 → 切除-拉伸10 (cut)
    with BuildSketch(Plane.XY.offset(36.5).offset(CUT_EXTRUDE_START)):
        with Locations(Location((-35.5, -9.5, 0), (0, 0, 180))):
            Circle(SKETCH_19_R)
        with Locations(Location((-13, -9.5, 0), (0, 0, 180))):
            Circle(SKETCH_19_R)
    extrude(amount=CUT_EXTRUDE_10_DEPTH, mode=Mode.SUBTRACT)

    # 草图20 → 切除-拉伸11 (cut)
    with BuildSketch(Plane.XZ.offset(-28.5)):
        with Locations(Location((-40, 7.5, 0), (0, 0, 270))):
            Circle(SKETCH_20_R)
        with Locations(Location((-14.02, 7.5, 0), (0, 0, 270))):
            Circle(SKETCH_20_R)
        with Locations(Location((-14.02, -7.5, 0), (0, 0, 270))):
            Circle(SKETCH_20_R)
        with Locations(Location((-40, -7.5, 0), (0, 0, 270))):
            Circle(SKETCH_20_R)
    extrude(amount=-CUT_EXTRUDE_11_DEPTH, mode=Mode.SUBTRACT)

    # 草图21 → 切除-拉伸12 (cut)
    with BuildSketch(Plane(origin=(0, 0, 0), x_dir=(0, 0, -1), z_dir=(1, 0, 0))):
        with Locations((-12.5, 0)):
            Circle(SKETCH_21_R)
        with Locations((12.5, 0)):
            Circle(SKETCH_21_R)
        with Locations((0, 12.5)):
            Circle(SKETCH_21_R)
        with Locations((0, -12.5)):
            Circle(SKETCH_21_R)
    extrude(amount=-CUT_EXTRUDE_12_DEPTH, mode=Mode.SUBTRACT)

    # 草图23 → 切除-拉伸13 (cut)
    with BuildSketch(Plane.ZY.offset(5)):
        Circle(SKETCH_23_R)
    extrude(amount=CUT_EXTRUDE_13_DEPTH, mode=Mode.SUBTRACT)

    # 草图27 → 切除-拉伸15 (cut, through all)
    with BuildSketch(Plane.ZY.offset(5)):
        with BuildLine():
            Line((-30.5, 0), (-30.5, -14))
            Line((-30.5, -14), (-28.5, -14))
            Line((-28.5, -14), (-28.5, -10.862780491))
            ThreePointArc((-28.5, -10.862780491), (-29.995833044, -5.522680509), (-30.5, 0))
        make_face()
        with BuildLine():
            Line((30.5, 0), (30.5, -14))
            Line((30.5, -14), (28.5, -14))
            Line((28.5, -14), (28.5, -10.862780491))
            ThreePointArc((28.5, -10.862780491), (29.995833044, -5.522680509), (30.5, 0))
        make_face()
    extrude(amount=CUT_EXTRUDE_15_DEPTH, mode=Mode.SUBTRACT)


solid = part.part
